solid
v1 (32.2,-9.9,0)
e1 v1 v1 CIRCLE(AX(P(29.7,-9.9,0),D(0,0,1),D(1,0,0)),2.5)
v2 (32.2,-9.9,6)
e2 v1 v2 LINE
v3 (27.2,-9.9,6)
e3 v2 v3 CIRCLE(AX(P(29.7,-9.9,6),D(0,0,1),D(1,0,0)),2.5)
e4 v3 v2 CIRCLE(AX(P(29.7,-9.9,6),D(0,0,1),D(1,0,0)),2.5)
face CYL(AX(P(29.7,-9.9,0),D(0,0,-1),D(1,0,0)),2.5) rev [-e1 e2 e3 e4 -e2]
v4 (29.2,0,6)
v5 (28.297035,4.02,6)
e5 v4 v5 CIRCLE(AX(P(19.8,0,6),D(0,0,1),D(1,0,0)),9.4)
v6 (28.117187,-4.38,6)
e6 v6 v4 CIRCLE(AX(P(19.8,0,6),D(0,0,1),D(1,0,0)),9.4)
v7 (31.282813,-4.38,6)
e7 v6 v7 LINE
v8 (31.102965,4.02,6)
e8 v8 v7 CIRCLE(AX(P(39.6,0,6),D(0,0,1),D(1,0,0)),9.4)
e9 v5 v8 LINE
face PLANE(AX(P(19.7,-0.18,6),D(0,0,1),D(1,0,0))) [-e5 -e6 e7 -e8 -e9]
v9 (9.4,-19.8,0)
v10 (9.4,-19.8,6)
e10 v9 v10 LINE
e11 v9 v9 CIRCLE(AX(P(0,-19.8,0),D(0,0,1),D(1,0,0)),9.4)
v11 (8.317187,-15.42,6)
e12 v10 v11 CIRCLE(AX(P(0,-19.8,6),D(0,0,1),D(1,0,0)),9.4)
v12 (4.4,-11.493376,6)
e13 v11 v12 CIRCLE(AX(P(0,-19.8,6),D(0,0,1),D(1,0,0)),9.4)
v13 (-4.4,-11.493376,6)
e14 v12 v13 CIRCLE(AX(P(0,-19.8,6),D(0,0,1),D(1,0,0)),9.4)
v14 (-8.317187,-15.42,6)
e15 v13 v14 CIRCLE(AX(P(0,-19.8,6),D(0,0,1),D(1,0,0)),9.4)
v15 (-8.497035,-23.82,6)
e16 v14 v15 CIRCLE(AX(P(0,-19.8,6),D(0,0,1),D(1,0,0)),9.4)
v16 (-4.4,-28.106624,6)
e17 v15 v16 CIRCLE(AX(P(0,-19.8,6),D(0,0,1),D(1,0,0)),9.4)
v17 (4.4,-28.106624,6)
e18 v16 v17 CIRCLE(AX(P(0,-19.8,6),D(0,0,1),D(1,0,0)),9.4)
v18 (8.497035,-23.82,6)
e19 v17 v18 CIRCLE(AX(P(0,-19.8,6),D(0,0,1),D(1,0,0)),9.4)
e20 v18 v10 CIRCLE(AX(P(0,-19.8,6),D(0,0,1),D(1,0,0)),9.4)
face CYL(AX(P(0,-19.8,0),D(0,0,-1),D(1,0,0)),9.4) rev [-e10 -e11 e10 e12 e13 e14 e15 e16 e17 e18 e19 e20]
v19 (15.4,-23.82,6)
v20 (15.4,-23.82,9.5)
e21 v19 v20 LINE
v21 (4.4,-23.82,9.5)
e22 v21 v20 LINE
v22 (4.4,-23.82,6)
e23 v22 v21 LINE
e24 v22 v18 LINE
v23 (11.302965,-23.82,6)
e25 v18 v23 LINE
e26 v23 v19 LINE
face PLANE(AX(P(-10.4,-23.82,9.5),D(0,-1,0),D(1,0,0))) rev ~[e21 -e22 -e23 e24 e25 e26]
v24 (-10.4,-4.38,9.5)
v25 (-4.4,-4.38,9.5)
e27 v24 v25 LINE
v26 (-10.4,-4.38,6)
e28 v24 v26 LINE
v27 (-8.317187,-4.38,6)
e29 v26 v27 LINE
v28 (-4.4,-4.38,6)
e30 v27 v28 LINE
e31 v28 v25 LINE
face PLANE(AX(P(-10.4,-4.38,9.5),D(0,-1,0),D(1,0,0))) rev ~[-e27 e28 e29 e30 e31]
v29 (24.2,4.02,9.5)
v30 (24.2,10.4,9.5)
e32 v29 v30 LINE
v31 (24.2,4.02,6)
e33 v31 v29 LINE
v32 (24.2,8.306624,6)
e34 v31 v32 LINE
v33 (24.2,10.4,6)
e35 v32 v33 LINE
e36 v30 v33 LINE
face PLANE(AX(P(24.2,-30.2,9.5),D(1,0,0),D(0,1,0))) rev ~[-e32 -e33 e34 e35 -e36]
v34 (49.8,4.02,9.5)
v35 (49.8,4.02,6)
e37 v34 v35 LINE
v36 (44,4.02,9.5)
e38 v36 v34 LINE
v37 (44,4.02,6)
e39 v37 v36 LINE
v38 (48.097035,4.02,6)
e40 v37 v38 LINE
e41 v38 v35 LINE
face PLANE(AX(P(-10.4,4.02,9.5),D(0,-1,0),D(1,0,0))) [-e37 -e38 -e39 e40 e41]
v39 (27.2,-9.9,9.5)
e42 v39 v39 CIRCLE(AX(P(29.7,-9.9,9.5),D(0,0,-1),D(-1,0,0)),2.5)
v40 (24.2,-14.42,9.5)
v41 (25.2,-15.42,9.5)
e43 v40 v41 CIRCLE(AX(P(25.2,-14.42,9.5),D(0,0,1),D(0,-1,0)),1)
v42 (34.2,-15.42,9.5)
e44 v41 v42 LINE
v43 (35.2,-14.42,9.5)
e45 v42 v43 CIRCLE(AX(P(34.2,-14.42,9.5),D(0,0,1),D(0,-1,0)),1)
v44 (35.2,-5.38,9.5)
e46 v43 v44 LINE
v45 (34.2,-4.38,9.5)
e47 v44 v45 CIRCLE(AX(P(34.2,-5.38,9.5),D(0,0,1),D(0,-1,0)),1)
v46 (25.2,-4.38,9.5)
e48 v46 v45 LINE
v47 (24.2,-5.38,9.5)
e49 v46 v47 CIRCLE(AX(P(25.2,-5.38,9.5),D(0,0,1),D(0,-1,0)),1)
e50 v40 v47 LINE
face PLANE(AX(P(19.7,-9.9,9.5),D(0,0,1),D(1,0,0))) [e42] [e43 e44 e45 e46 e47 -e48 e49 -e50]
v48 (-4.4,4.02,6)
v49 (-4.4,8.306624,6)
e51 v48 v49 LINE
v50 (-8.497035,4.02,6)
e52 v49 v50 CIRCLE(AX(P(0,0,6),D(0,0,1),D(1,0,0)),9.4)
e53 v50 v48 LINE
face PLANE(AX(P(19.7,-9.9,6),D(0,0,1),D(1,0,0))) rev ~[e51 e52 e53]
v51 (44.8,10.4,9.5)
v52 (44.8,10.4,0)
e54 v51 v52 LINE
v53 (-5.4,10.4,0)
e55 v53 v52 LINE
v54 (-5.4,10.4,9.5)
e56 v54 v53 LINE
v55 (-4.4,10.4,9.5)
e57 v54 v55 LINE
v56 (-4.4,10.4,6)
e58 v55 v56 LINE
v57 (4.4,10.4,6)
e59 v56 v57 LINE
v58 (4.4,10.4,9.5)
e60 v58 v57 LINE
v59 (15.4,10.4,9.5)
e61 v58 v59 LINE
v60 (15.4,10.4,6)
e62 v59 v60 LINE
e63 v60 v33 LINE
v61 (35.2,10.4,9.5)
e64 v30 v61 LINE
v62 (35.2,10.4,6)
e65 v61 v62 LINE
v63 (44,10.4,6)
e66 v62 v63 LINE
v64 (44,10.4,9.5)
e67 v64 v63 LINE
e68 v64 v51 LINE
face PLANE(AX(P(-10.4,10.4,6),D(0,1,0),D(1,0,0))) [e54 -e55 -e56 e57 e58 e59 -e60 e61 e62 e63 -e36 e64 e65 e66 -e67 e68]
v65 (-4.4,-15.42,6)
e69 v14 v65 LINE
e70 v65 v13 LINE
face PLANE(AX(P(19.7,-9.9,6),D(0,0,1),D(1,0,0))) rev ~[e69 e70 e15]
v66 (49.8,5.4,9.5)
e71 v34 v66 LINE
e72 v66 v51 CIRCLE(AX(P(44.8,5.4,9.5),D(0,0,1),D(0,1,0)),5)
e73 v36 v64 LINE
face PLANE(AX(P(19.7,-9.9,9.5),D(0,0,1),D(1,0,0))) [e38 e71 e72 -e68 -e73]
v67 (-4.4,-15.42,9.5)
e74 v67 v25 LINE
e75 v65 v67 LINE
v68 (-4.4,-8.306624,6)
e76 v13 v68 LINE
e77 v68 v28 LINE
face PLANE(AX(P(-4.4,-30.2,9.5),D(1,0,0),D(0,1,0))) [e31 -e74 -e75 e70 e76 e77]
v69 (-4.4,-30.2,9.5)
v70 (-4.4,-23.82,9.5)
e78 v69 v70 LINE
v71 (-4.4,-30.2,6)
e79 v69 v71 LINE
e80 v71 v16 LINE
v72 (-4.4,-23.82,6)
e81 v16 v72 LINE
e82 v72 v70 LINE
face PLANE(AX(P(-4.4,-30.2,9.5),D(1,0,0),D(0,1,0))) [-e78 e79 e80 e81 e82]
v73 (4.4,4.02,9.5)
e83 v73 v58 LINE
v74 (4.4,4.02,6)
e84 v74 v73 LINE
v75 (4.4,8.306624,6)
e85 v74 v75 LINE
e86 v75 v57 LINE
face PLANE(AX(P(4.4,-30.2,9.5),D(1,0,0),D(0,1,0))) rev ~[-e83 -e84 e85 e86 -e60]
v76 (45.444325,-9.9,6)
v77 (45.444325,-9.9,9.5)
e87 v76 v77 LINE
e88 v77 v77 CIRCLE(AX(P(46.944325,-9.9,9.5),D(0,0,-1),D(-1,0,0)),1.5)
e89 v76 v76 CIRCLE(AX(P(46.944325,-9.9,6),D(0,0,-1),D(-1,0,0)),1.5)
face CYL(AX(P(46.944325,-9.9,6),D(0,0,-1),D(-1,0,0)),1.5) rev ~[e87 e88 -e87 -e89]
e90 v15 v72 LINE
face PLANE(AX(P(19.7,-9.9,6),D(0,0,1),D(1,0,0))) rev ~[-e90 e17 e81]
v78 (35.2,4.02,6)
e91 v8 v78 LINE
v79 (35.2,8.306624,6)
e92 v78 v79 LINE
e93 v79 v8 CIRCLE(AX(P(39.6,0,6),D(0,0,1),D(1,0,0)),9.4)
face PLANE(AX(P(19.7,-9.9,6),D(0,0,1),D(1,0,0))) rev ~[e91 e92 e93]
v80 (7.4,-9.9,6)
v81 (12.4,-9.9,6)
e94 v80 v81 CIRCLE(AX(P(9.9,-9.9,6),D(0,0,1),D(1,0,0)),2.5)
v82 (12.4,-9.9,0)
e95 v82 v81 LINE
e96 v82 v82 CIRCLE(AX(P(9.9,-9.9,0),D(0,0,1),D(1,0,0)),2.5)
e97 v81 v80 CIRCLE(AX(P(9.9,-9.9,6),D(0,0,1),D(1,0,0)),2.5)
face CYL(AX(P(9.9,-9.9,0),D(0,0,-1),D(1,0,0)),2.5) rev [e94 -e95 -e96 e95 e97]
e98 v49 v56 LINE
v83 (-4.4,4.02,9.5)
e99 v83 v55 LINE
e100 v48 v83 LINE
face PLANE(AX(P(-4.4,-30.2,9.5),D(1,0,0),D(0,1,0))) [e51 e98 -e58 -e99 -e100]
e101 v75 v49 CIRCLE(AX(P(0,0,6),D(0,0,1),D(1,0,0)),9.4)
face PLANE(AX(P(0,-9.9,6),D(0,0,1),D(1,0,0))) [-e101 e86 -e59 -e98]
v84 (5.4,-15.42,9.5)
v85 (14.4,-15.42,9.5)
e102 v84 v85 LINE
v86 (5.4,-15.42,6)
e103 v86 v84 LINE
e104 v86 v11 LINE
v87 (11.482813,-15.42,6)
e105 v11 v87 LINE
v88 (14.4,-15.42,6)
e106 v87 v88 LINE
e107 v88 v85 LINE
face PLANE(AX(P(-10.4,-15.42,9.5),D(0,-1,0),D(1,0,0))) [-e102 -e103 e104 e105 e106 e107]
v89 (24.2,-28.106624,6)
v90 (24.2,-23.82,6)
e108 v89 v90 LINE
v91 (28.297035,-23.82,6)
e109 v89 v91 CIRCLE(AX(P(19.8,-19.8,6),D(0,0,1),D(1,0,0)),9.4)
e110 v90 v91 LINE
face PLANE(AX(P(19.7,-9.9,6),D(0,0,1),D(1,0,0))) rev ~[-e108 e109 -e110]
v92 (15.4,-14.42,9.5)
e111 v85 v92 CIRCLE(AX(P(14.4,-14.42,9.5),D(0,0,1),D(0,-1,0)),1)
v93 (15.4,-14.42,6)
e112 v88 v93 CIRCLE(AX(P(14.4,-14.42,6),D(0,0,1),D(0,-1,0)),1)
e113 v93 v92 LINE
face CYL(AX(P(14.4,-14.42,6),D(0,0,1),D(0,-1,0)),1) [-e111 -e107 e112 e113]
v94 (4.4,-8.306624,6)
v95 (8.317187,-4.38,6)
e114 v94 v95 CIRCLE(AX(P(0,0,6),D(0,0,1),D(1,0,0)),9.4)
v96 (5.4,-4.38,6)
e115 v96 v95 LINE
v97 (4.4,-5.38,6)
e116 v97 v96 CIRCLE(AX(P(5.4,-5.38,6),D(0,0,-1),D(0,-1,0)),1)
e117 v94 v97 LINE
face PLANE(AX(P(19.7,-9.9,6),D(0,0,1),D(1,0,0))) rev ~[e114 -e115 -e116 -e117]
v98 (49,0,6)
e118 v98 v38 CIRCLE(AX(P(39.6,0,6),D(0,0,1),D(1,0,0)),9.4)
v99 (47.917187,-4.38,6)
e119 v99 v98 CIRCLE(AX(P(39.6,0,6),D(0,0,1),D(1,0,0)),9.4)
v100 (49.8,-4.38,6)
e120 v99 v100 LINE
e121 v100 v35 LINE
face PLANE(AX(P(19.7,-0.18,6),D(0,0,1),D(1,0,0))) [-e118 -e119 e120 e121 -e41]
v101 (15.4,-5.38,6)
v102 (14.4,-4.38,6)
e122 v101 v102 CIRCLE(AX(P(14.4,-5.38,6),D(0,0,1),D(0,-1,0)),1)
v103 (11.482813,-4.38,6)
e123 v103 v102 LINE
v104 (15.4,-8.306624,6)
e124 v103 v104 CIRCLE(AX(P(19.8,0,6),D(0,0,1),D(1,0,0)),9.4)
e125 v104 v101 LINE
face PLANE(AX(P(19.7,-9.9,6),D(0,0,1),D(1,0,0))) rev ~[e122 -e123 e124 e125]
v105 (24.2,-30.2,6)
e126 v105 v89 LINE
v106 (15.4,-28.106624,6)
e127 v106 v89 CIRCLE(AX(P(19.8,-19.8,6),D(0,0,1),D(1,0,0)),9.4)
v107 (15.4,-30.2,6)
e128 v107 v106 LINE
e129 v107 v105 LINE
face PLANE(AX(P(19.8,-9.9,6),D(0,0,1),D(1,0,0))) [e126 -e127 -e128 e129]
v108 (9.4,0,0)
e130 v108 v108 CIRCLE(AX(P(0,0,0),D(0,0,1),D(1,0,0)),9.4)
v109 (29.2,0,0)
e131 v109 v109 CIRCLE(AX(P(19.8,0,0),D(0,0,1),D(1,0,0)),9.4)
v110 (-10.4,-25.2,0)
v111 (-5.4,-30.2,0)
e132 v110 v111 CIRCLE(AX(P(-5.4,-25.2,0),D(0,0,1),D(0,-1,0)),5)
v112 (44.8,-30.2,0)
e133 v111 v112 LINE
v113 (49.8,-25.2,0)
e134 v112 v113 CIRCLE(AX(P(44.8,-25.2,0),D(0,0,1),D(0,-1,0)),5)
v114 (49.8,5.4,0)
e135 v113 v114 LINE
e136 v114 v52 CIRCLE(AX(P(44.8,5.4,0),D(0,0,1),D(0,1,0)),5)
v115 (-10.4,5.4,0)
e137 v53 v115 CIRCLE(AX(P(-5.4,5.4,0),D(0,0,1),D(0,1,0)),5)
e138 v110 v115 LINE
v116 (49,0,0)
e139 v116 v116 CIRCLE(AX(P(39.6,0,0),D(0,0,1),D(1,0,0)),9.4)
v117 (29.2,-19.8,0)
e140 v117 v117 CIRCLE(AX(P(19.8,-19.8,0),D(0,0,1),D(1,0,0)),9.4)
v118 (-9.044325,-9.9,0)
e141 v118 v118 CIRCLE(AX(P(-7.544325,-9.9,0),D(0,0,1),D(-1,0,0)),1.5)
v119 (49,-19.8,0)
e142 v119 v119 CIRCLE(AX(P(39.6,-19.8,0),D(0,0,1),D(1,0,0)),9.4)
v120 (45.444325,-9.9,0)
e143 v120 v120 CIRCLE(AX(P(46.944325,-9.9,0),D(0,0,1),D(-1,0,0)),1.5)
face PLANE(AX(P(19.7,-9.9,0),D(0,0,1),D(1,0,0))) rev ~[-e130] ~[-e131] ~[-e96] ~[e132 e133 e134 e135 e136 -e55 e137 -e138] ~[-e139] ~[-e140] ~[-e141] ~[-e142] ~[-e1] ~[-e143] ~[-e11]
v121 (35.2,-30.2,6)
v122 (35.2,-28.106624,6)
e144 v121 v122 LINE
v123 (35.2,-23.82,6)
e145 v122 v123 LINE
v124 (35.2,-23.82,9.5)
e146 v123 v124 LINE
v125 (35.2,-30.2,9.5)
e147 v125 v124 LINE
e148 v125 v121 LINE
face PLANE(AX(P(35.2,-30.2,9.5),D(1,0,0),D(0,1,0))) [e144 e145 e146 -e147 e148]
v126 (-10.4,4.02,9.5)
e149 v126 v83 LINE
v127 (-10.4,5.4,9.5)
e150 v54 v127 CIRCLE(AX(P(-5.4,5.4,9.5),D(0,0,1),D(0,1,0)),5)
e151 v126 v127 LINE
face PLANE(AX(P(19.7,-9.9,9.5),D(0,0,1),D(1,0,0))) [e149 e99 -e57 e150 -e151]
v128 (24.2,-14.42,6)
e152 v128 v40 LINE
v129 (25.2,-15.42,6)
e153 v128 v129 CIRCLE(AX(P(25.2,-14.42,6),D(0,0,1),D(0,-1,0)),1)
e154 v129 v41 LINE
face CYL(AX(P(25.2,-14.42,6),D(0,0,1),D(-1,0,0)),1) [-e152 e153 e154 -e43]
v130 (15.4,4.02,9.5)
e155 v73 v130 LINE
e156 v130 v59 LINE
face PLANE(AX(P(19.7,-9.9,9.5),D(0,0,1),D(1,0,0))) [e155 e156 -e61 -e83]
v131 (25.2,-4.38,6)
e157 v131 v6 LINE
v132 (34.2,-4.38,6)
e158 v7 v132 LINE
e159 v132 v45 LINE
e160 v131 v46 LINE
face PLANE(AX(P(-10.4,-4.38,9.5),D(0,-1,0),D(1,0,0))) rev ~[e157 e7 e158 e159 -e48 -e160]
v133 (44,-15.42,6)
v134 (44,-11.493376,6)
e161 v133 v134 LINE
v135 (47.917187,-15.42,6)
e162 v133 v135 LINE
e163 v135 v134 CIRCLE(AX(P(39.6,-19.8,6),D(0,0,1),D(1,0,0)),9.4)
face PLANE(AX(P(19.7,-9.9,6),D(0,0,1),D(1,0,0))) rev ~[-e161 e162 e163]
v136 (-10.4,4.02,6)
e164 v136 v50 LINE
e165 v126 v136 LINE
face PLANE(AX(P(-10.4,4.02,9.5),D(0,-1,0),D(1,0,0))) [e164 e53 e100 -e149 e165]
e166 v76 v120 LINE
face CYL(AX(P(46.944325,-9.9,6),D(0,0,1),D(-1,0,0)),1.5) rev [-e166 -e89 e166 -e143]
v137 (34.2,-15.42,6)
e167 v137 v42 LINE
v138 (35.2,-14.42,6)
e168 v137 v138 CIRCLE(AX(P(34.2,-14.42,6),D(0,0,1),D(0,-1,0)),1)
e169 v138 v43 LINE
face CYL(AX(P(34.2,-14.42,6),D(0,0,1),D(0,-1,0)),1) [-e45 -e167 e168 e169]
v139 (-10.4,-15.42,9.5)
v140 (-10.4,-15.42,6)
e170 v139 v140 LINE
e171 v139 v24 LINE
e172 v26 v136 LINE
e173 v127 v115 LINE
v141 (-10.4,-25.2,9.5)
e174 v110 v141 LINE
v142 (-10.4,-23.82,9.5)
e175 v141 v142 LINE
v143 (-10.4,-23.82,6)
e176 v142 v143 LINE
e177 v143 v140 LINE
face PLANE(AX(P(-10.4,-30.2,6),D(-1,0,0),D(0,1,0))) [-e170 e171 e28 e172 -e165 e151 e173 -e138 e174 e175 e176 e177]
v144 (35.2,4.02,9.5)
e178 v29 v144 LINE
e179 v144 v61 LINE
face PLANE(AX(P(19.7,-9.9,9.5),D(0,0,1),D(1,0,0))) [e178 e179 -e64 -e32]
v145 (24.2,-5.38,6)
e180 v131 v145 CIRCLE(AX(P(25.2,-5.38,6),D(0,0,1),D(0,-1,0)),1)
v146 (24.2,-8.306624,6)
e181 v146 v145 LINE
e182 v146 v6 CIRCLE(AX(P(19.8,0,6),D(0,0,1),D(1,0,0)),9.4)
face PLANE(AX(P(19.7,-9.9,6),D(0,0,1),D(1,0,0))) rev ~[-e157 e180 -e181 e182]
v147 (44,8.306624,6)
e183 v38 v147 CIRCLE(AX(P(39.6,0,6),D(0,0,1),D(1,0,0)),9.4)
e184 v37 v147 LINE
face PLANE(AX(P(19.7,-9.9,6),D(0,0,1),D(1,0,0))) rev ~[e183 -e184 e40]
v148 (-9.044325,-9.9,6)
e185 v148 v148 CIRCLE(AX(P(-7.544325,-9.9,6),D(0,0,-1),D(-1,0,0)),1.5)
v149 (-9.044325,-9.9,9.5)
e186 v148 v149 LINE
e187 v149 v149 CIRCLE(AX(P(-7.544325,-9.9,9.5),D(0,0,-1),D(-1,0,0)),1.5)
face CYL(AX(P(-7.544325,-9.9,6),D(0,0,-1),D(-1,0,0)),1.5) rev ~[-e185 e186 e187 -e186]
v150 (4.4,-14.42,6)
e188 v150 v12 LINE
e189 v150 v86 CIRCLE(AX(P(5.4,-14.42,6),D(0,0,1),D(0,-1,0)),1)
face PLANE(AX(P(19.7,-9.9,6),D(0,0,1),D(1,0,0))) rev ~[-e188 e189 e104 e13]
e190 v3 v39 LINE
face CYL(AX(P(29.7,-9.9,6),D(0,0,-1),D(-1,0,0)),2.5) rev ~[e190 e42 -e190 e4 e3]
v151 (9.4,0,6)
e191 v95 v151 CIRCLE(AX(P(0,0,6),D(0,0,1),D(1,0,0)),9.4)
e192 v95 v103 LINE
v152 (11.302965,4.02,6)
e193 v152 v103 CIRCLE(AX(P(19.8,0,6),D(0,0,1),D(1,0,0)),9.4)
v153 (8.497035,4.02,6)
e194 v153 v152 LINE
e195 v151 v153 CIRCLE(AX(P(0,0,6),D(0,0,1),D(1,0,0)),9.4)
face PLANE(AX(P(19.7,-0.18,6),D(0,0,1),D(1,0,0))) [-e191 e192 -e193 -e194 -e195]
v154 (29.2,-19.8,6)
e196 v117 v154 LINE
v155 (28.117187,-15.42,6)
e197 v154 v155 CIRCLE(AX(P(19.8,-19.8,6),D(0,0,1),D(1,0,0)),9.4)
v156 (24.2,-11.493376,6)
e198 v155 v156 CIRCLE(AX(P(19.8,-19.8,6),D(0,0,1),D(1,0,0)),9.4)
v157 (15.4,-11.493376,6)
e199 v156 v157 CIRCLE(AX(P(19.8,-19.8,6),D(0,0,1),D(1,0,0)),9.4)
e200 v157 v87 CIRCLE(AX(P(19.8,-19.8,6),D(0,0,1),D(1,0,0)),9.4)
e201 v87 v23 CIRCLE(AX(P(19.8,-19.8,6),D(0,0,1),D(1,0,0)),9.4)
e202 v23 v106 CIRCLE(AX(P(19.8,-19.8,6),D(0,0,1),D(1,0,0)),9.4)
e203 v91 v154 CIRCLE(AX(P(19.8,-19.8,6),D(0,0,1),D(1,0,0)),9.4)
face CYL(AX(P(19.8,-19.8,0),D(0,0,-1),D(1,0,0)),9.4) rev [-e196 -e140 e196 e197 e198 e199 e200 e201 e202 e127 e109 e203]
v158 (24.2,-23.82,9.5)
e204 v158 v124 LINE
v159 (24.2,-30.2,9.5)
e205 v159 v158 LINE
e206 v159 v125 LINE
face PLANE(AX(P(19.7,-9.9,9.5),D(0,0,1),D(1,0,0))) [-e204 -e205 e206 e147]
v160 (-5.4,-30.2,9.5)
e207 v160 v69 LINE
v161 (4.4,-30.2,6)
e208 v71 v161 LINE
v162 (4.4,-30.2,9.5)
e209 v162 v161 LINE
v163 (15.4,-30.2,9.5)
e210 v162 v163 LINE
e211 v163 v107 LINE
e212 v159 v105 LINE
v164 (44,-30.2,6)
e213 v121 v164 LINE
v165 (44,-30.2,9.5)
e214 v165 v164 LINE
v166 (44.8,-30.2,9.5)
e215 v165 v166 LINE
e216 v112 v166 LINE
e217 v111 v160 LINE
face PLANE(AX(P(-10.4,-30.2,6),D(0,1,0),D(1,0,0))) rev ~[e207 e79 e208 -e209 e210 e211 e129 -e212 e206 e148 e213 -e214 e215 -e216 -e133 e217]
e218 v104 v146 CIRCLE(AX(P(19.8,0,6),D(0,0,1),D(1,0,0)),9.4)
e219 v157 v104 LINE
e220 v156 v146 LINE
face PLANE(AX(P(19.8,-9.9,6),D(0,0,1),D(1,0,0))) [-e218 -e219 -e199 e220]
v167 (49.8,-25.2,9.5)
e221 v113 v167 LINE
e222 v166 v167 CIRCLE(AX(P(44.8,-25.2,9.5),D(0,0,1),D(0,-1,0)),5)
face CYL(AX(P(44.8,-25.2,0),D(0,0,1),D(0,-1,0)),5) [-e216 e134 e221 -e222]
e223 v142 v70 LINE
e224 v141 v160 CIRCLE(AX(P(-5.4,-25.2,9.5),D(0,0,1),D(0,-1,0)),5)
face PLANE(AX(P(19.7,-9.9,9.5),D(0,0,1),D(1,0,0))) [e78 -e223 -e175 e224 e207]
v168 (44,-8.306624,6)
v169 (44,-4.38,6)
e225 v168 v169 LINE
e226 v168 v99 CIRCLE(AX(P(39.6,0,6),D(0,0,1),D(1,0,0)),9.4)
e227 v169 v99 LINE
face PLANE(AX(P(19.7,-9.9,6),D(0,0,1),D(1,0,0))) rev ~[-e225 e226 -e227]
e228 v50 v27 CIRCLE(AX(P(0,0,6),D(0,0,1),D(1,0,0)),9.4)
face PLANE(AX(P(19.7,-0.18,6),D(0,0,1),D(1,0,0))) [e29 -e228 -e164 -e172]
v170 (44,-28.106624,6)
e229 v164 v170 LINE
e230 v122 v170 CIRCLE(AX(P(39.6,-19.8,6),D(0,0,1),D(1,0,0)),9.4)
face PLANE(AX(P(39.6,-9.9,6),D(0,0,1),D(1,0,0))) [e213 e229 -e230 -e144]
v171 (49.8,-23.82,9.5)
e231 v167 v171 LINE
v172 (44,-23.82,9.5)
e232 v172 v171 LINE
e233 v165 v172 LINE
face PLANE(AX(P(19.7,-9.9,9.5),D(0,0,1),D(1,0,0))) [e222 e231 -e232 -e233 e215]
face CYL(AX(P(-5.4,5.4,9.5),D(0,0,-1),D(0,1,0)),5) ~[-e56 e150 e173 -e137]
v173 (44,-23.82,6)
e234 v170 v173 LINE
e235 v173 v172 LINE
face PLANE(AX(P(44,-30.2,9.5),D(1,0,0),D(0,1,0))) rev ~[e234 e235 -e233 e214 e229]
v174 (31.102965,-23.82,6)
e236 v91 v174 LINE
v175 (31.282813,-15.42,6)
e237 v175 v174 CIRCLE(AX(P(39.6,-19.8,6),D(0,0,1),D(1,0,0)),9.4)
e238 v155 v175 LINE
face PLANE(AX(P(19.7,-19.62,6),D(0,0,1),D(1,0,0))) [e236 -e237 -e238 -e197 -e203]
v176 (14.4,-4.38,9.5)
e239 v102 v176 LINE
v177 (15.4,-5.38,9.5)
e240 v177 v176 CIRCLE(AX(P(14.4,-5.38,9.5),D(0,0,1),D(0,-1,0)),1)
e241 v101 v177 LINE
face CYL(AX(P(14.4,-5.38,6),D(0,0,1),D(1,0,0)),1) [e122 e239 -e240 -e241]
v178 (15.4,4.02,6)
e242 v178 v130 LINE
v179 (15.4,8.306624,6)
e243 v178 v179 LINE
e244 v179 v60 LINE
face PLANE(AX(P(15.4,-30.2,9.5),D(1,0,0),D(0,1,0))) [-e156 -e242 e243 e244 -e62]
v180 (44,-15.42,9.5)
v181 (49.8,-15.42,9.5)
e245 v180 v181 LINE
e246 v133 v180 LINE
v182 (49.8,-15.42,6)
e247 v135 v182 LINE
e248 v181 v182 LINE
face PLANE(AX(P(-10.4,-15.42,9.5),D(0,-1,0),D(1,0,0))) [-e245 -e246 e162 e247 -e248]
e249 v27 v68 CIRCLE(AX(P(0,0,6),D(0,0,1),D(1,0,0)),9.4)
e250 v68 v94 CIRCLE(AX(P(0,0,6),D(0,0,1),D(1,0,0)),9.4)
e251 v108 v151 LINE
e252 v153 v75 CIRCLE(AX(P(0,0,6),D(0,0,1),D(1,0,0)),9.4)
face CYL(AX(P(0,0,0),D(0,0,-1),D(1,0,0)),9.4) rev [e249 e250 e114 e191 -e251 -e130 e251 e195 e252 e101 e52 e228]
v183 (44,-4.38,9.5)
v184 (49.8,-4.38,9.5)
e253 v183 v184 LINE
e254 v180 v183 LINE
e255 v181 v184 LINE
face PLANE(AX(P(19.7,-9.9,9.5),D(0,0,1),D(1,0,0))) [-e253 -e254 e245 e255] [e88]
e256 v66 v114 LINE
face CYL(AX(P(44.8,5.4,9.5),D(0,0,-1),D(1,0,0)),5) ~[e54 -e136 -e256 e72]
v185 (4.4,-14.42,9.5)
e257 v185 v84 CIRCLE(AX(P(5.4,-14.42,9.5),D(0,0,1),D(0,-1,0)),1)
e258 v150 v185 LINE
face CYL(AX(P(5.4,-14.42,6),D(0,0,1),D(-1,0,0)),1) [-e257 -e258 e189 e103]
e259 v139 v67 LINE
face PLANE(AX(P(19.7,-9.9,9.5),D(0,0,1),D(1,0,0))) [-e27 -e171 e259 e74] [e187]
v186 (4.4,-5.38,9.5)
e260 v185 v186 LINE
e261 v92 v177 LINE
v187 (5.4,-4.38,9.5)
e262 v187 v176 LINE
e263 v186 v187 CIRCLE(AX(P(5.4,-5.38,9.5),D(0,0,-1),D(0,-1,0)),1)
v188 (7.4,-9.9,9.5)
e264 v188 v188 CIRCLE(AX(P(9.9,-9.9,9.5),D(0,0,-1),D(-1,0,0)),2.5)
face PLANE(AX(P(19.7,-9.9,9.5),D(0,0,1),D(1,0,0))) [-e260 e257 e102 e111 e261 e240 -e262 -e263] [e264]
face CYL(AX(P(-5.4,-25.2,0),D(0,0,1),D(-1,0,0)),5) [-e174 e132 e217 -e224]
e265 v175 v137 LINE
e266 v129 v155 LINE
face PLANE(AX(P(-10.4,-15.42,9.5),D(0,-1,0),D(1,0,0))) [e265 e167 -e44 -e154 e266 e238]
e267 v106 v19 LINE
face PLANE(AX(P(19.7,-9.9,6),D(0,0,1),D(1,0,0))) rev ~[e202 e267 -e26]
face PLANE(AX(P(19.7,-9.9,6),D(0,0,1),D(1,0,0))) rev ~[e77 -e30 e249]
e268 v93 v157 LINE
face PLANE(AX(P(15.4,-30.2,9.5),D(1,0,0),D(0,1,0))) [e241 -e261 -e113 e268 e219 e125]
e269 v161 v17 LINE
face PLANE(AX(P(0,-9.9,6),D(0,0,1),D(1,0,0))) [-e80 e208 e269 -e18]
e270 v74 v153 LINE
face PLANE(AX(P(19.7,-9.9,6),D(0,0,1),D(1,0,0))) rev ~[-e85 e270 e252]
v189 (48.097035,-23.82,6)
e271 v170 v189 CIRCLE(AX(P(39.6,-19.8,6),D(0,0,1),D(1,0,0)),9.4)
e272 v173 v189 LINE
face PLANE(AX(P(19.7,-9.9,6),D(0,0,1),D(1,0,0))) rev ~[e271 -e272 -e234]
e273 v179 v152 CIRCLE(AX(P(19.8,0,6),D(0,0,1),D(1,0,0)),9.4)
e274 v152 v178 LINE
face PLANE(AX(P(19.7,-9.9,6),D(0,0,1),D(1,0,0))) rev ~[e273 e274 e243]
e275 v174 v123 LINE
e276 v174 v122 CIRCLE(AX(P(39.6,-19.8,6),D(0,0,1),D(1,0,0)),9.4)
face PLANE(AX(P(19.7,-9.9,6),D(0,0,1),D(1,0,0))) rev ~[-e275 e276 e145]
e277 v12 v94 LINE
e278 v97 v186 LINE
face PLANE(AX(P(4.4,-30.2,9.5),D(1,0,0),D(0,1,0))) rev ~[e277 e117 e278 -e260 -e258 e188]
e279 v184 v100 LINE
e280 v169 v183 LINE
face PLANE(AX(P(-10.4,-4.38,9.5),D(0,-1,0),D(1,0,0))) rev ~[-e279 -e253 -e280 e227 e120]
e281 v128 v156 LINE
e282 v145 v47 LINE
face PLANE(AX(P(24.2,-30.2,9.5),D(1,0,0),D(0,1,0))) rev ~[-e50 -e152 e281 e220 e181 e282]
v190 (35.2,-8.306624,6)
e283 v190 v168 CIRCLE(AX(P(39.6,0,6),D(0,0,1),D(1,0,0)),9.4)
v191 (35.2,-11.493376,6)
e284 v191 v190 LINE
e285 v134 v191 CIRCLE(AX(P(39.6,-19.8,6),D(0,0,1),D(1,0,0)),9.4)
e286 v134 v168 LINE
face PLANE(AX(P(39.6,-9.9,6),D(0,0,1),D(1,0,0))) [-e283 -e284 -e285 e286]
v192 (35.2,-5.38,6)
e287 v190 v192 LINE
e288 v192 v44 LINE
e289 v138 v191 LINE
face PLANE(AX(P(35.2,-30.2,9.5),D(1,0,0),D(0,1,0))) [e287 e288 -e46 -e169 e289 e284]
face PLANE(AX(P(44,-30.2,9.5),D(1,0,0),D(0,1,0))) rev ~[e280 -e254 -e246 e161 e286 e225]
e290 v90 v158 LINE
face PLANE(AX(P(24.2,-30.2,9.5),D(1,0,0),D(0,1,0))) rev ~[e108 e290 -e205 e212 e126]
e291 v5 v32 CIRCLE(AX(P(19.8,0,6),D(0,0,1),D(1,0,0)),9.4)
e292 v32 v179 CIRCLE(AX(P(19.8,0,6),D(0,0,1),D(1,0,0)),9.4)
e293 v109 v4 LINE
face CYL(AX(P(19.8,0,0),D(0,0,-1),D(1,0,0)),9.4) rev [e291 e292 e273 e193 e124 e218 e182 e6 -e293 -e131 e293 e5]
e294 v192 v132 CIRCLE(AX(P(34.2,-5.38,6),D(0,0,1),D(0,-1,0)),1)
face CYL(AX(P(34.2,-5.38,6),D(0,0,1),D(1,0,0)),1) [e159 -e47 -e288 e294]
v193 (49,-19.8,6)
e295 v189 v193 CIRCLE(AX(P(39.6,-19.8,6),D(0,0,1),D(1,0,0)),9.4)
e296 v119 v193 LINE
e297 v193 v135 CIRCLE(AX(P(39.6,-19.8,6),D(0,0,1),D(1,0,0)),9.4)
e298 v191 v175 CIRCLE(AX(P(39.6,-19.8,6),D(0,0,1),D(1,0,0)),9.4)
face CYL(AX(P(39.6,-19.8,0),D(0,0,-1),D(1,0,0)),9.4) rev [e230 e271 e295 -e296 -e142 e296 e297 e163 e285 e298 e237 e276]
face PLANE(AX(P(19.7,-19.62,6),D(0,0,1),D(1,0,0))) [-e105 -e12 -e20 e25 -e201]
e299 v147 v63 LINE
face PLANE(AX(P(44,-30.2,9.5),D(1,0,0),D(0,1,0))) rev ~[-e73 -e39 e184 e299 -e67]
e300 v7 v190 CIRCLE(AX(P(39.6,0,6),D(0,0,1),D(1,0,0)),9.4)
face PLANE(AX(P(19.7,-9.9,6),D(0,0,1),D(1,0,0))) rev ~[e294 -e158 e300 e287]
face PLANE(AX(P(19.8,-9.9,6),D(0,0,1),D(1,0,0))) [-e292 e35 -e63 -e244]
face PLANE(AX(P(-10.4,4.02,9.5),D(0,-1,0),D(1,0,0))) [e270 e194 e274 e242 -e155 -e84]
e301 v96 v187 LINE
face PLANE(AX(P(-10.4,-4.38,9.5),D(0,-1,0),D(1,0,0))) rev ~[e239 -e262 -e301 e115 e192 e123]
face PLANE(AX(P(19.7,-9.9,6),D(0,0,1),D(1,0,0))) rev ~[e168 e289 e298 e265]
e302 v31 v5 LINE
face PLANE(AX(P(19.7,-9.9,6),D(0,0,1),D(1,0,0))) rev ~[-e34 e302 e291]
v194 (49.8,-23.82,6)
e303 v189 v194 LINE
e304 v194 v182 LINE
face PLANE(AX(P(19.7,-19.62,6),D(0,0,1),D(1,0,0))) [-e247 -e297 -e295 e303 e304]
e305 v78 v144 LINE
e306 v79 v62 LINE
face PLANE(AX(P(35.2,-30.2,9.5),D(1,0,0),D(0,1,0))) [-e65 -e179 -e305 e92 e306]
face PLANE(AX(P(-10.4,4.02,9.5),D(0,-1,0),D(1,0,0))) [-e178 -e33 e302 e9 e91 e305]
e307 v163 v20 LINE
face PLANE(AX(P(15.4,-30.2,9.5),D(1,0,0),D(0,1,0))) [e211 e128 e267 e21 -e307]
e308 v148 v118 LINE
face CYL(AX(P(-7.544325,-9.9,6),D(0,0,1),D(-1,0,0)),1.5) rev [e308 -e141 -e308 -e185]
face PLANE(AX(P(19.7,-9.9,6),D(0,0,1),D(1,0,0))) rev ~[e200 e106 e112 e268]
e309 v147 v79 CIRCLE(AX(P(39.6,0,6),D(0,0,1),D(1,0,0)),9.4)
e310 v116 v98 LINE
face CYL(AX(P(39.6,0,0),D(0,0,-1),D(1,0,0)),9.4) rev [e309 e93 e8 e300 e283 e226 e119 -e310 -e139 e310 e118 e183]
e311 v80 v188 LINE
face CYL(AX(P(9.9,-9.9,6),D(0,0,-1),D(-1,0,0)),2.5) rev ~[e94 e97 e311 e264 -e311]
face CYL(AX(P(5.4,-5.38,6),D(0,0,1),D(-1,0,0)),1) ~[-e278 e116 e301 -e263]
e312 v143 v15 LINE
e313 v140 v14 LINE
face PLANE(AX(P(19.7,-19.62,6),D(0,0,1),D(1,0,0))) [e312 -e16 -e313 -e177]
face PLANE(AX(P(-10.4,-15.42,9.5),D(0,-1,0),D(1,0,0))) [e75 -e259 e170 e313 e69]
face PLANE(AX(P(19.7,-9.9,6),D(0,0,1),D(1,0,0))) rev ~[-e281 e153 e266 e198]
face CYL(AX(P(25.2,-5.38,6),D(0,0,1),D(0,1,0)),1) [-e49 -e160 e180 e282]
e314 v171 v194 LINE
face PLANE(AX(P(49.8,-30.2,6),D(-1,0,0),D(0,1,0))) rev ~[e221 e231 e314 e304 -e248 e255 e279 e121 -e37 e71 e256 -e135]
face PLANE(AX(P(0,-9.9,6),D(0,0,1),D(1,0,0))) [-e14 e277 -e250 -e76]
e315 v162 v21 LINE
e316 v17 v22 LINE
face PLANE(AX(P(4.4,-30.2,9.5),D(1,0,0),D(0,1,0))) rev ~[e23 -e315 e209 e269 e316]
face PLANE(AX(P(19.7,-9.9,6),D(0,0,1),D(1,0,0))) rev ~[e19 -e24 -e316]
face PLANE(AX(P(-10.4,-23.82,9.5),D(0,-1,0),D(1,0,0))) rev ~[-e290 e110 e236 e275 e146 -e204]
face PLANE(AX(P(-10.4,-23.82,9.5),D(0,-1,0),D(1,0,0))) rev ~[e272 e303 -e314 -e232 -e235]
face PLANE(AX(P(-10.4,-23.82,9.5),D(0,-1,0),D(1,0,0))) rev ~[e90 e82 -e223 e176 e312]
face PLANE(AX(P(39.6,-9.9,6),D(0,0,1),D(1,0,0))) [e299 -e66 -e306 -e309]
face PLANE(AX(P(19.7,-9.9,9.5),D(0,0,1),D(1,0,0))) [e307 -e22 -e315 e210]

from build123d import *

# Parameters (mm, degrees)
SKETCH_1_W               = 60.2
SKETCH_1_H               = 40.6
SKETCH_1_R               = 9.4
SKETCH_1_R_2             = 2.5
EXTRUDE_1_DEPTH          = 6
SKETCH_2_W               = 60.2
SKETCH_2_H               = 40.6
EXTRUDE_2_DEPTH          = 3.5
SKETCH_3_W               = 60.2
SKETCH_3_H               = 8.4
CUT_EXTRUDE_1_DEPTH      = 3.5
SKETCH_4_W               = 8.8
SKETCH_4_H               = 40.6
CUT_EXTRUDE_2_DEPTH      = 3.5
SKETCH_5_R               = 2.5
SKETCH_5_R_2             = 1.5
CUT_EXTRUDE_3_DEPTH      = 10
CUT_EXTRUDE_3_DEPTH_BACK = 10
FILLET_3_R               = 5
FILLET_8_R               = 5
FILLET_9_R               = 5
FILLET_10_R              = 5
FILLET_11_R              = 1
FILLET_12_R              = 1
FILLET_13_R              = 1
FILLET_14_R              = 1
FILLET_15_R              = 1
FILLET_16_R              = 1
FILLET_17_R              = 1
FILLET_18_R              = 1


with BuildPart() as part:
    # 草图1 → 凸台-拉伸1 (new body)
    with BuildSketch(Plane.XY):
        with Locations((19.7, -9.9)):
            Rectangle(SKETCH_1_W, SKETCH_1_H)
        Circle(SKETCH_1_R, mode=Mode.SUBTRACT)
        with Locations((19.8, 0)):
            Circle(SKETCH_1_R, mode=Mode.SUBTRACT)
        with Locations((39.6, 0)):
            Circle(SKETCH_1_R, mode=Mode.SUBTRACT)
        with Locations((0, -19.8)):
            Circle(SKETCH_1_R, mode=Mode.SUBTRACT)
        with Locations((19.8, -19.8)):
            Circle(SKETCH_1_R, mode=Mode.SUBTRACT)
        with Locations((39.6, -19.8)):
            Circle(SKETCH_1_R, mode=Mode.SUBTRACT)
        with Locations((9.9, -9.9)):
            Circle(SKETCH_1_R_2, mode=Mode.SUBTRACT)
        with Locations((29.7, -9.9)):
            Circle(SKETCH_1_R_2, mode=Mode.SUBTRACT)
    extrude(amount=EXTRUDE_1_DEPTH)

    # 草图2 → 凸台-拉伸2 (add)
    with BuildSketch(Plane.XY.offset(6)):
        with Locations((19.7, -9.9)):
            Rectangle(SKETCH_2_W, SKETCH_2_H)
    extrude(amount=EXTRUDE_2_DEPTH)

    # 草图3 → 切除-拉伸1 (cut)
    with BuildSketch(Plane.XY.offset(9.5)):
        with Locations((19.7, -0.18)):
            Rectangle(SKETCH_3_W, SKETCH_3_H)
        with Locations((19.7, -19.62)):
            Rectangle(SKETCH_3_W, SKETCH_3_H)
    extrude(amount=-CUT_EXTRUDE_1_DEPTH, mode=Mode.SUBTRACT)

    # 草图4 → 切除-拉伸2 (cut)
    with BuildSketch(Plane.XY.offset(9.5)):
        with Locations((0, -9.9)):
            Rectangle(SKETCH_4_W, SKETCH_4_H)
        with Locations((19.8, -9.9)):
            Rectangle(SKETCH_4_W, SKETCH_4_H)
        with Locations((39.6, -9.9)):
            Rectangle(SKETCH_4_W, SKETCH_4_H)
        with Locations((59.4, -9.9)):
            Rectangle(SKETCH_4_W, SKETCH_4_H)
    extrude(amount=-CUT_EXTRUDE_2_DEPTH, mode=Mode.SUBTRACT)

    # 草图5 → 切除-拉伸3 (cut, two sides)
    with BuildSketch(Plane(origin=(0, 0, 6), x_dir=(-1, 0, 0), z_dir=(0, 0, -1))) as cut_extrude_3_sk:
        with Locations((-29.7, -9.9)):
            Circle(SKETCH_5_R)
        with Locations((-9.9, -9.9)):
            Circle(SKETCH_5_R)
        with Locations((-46.944325479, -9.9)):
            Circle(SKETCH_5_R_2)
        with Locations((7.544325479, -9.9)):
            Circle(SKETCH_5_R_2)
    extrude(amount=CUT_EXTRUDE_3_DEPTH, mode=Mode.SUBTRACT)
    extrude(cut_extrude_3_sk.sketch, amount=-CUT_EXTRUDE_3_DEPTH_BACK, mode=Mode.SUBTRACT)

    # 圆角3
    fillet_3_edges = [part.edges().sort_by_distance(p)[0] for p in [
        (-10.4, -30.2, 4.75),
    ]]
    fillet(fillet_3_edges, radius=FILLET_3_R)

    # 圆角8
    fillet_8_edges = [part.edges().sort_by_distance(p)[0] for p in [
        (49.8, -30.2, 4.75),
    ]]
    fillet(fillet_8_edges, radius=FILLET_8_R)

    # 圆角9
    fillet_9_edges = [part.edges().sort_by_distance(p)[0] for p in [
        (49.8, 10.4, 4.75),
    ]]
    fillet(fillet_9_edges, radius=FILLET_9_R)

    # 圆角10
    fillet_10_edges = [part.edges().sort_by_distance(p)[0] for p in [
        (-10.4, 10.4, 4.75),
    ]]
    fillet(fillet_10_edges, radius=FILLET_10_R)

    # 圆角11
    fillet_11_edges = [part.edges().sort_by_distance(p)[0] for p in [
        (4.4, -4.38, 7.75),
    ]]
    fillet(fillet_11_edges, radius=FILLET_11_R)

    # 圆角12
    fillet_12_edges = [part.edges().sort_by_distance(p)[0] for p in [
        (4.4, -15.42, 7.75),
    ]]
    fillet(fillet_12_edges, radius=FILLET_12_R)

    # 圆角13
    fillet_13_edges = [part.edges().sort_by_distance(p)[0] for p in [
        (15.4, -15.42, 7.75),
    ]]
    fillet(fillet_13_edges, radius=FILLET_13_R)

    # 圆角14
    fillet_14_edges = [part.edges().sort_by_distance(p)[0] for p in [
        (15.4, -4.38, 7.75),
    ]]
    fillet(fillet_14_edges, radius=FILLET_14_R)

    # 圆角15
    fillet_15_edges = [part.edges().sort_by_distance(p)[0] for p in [
        (24.2, -15.42, 7.75),
    ]]
    fillet(fillet_15_edges, radius=FILLET_15_R)

    # 圆角16
    fillet_16_edges = [part.edges().sort_by_distance(p)[0] for p in [
        (35.2, -15.42, 7.75),
    ]]
    fillet(fillet_16_edges, radius=FILLET_16_R)

    # 圆角17
    fillet_17_edges = [part.edges().sort_by_distance(p)[0] for p in [
        (35.2, -4.38, 7.75),
    ]]
    fillet(fillet_17_edges, radius=FILLET_17_R)

    # 圆角18
    fillet_18_edges = [part.edges().sort_by_distance(p)[0] for p in [
        (24.2, -4.38, 7.75),
    ]]
    fillet(fillet_18_edges, radius=FILLET_18_R)


solid = part.part
